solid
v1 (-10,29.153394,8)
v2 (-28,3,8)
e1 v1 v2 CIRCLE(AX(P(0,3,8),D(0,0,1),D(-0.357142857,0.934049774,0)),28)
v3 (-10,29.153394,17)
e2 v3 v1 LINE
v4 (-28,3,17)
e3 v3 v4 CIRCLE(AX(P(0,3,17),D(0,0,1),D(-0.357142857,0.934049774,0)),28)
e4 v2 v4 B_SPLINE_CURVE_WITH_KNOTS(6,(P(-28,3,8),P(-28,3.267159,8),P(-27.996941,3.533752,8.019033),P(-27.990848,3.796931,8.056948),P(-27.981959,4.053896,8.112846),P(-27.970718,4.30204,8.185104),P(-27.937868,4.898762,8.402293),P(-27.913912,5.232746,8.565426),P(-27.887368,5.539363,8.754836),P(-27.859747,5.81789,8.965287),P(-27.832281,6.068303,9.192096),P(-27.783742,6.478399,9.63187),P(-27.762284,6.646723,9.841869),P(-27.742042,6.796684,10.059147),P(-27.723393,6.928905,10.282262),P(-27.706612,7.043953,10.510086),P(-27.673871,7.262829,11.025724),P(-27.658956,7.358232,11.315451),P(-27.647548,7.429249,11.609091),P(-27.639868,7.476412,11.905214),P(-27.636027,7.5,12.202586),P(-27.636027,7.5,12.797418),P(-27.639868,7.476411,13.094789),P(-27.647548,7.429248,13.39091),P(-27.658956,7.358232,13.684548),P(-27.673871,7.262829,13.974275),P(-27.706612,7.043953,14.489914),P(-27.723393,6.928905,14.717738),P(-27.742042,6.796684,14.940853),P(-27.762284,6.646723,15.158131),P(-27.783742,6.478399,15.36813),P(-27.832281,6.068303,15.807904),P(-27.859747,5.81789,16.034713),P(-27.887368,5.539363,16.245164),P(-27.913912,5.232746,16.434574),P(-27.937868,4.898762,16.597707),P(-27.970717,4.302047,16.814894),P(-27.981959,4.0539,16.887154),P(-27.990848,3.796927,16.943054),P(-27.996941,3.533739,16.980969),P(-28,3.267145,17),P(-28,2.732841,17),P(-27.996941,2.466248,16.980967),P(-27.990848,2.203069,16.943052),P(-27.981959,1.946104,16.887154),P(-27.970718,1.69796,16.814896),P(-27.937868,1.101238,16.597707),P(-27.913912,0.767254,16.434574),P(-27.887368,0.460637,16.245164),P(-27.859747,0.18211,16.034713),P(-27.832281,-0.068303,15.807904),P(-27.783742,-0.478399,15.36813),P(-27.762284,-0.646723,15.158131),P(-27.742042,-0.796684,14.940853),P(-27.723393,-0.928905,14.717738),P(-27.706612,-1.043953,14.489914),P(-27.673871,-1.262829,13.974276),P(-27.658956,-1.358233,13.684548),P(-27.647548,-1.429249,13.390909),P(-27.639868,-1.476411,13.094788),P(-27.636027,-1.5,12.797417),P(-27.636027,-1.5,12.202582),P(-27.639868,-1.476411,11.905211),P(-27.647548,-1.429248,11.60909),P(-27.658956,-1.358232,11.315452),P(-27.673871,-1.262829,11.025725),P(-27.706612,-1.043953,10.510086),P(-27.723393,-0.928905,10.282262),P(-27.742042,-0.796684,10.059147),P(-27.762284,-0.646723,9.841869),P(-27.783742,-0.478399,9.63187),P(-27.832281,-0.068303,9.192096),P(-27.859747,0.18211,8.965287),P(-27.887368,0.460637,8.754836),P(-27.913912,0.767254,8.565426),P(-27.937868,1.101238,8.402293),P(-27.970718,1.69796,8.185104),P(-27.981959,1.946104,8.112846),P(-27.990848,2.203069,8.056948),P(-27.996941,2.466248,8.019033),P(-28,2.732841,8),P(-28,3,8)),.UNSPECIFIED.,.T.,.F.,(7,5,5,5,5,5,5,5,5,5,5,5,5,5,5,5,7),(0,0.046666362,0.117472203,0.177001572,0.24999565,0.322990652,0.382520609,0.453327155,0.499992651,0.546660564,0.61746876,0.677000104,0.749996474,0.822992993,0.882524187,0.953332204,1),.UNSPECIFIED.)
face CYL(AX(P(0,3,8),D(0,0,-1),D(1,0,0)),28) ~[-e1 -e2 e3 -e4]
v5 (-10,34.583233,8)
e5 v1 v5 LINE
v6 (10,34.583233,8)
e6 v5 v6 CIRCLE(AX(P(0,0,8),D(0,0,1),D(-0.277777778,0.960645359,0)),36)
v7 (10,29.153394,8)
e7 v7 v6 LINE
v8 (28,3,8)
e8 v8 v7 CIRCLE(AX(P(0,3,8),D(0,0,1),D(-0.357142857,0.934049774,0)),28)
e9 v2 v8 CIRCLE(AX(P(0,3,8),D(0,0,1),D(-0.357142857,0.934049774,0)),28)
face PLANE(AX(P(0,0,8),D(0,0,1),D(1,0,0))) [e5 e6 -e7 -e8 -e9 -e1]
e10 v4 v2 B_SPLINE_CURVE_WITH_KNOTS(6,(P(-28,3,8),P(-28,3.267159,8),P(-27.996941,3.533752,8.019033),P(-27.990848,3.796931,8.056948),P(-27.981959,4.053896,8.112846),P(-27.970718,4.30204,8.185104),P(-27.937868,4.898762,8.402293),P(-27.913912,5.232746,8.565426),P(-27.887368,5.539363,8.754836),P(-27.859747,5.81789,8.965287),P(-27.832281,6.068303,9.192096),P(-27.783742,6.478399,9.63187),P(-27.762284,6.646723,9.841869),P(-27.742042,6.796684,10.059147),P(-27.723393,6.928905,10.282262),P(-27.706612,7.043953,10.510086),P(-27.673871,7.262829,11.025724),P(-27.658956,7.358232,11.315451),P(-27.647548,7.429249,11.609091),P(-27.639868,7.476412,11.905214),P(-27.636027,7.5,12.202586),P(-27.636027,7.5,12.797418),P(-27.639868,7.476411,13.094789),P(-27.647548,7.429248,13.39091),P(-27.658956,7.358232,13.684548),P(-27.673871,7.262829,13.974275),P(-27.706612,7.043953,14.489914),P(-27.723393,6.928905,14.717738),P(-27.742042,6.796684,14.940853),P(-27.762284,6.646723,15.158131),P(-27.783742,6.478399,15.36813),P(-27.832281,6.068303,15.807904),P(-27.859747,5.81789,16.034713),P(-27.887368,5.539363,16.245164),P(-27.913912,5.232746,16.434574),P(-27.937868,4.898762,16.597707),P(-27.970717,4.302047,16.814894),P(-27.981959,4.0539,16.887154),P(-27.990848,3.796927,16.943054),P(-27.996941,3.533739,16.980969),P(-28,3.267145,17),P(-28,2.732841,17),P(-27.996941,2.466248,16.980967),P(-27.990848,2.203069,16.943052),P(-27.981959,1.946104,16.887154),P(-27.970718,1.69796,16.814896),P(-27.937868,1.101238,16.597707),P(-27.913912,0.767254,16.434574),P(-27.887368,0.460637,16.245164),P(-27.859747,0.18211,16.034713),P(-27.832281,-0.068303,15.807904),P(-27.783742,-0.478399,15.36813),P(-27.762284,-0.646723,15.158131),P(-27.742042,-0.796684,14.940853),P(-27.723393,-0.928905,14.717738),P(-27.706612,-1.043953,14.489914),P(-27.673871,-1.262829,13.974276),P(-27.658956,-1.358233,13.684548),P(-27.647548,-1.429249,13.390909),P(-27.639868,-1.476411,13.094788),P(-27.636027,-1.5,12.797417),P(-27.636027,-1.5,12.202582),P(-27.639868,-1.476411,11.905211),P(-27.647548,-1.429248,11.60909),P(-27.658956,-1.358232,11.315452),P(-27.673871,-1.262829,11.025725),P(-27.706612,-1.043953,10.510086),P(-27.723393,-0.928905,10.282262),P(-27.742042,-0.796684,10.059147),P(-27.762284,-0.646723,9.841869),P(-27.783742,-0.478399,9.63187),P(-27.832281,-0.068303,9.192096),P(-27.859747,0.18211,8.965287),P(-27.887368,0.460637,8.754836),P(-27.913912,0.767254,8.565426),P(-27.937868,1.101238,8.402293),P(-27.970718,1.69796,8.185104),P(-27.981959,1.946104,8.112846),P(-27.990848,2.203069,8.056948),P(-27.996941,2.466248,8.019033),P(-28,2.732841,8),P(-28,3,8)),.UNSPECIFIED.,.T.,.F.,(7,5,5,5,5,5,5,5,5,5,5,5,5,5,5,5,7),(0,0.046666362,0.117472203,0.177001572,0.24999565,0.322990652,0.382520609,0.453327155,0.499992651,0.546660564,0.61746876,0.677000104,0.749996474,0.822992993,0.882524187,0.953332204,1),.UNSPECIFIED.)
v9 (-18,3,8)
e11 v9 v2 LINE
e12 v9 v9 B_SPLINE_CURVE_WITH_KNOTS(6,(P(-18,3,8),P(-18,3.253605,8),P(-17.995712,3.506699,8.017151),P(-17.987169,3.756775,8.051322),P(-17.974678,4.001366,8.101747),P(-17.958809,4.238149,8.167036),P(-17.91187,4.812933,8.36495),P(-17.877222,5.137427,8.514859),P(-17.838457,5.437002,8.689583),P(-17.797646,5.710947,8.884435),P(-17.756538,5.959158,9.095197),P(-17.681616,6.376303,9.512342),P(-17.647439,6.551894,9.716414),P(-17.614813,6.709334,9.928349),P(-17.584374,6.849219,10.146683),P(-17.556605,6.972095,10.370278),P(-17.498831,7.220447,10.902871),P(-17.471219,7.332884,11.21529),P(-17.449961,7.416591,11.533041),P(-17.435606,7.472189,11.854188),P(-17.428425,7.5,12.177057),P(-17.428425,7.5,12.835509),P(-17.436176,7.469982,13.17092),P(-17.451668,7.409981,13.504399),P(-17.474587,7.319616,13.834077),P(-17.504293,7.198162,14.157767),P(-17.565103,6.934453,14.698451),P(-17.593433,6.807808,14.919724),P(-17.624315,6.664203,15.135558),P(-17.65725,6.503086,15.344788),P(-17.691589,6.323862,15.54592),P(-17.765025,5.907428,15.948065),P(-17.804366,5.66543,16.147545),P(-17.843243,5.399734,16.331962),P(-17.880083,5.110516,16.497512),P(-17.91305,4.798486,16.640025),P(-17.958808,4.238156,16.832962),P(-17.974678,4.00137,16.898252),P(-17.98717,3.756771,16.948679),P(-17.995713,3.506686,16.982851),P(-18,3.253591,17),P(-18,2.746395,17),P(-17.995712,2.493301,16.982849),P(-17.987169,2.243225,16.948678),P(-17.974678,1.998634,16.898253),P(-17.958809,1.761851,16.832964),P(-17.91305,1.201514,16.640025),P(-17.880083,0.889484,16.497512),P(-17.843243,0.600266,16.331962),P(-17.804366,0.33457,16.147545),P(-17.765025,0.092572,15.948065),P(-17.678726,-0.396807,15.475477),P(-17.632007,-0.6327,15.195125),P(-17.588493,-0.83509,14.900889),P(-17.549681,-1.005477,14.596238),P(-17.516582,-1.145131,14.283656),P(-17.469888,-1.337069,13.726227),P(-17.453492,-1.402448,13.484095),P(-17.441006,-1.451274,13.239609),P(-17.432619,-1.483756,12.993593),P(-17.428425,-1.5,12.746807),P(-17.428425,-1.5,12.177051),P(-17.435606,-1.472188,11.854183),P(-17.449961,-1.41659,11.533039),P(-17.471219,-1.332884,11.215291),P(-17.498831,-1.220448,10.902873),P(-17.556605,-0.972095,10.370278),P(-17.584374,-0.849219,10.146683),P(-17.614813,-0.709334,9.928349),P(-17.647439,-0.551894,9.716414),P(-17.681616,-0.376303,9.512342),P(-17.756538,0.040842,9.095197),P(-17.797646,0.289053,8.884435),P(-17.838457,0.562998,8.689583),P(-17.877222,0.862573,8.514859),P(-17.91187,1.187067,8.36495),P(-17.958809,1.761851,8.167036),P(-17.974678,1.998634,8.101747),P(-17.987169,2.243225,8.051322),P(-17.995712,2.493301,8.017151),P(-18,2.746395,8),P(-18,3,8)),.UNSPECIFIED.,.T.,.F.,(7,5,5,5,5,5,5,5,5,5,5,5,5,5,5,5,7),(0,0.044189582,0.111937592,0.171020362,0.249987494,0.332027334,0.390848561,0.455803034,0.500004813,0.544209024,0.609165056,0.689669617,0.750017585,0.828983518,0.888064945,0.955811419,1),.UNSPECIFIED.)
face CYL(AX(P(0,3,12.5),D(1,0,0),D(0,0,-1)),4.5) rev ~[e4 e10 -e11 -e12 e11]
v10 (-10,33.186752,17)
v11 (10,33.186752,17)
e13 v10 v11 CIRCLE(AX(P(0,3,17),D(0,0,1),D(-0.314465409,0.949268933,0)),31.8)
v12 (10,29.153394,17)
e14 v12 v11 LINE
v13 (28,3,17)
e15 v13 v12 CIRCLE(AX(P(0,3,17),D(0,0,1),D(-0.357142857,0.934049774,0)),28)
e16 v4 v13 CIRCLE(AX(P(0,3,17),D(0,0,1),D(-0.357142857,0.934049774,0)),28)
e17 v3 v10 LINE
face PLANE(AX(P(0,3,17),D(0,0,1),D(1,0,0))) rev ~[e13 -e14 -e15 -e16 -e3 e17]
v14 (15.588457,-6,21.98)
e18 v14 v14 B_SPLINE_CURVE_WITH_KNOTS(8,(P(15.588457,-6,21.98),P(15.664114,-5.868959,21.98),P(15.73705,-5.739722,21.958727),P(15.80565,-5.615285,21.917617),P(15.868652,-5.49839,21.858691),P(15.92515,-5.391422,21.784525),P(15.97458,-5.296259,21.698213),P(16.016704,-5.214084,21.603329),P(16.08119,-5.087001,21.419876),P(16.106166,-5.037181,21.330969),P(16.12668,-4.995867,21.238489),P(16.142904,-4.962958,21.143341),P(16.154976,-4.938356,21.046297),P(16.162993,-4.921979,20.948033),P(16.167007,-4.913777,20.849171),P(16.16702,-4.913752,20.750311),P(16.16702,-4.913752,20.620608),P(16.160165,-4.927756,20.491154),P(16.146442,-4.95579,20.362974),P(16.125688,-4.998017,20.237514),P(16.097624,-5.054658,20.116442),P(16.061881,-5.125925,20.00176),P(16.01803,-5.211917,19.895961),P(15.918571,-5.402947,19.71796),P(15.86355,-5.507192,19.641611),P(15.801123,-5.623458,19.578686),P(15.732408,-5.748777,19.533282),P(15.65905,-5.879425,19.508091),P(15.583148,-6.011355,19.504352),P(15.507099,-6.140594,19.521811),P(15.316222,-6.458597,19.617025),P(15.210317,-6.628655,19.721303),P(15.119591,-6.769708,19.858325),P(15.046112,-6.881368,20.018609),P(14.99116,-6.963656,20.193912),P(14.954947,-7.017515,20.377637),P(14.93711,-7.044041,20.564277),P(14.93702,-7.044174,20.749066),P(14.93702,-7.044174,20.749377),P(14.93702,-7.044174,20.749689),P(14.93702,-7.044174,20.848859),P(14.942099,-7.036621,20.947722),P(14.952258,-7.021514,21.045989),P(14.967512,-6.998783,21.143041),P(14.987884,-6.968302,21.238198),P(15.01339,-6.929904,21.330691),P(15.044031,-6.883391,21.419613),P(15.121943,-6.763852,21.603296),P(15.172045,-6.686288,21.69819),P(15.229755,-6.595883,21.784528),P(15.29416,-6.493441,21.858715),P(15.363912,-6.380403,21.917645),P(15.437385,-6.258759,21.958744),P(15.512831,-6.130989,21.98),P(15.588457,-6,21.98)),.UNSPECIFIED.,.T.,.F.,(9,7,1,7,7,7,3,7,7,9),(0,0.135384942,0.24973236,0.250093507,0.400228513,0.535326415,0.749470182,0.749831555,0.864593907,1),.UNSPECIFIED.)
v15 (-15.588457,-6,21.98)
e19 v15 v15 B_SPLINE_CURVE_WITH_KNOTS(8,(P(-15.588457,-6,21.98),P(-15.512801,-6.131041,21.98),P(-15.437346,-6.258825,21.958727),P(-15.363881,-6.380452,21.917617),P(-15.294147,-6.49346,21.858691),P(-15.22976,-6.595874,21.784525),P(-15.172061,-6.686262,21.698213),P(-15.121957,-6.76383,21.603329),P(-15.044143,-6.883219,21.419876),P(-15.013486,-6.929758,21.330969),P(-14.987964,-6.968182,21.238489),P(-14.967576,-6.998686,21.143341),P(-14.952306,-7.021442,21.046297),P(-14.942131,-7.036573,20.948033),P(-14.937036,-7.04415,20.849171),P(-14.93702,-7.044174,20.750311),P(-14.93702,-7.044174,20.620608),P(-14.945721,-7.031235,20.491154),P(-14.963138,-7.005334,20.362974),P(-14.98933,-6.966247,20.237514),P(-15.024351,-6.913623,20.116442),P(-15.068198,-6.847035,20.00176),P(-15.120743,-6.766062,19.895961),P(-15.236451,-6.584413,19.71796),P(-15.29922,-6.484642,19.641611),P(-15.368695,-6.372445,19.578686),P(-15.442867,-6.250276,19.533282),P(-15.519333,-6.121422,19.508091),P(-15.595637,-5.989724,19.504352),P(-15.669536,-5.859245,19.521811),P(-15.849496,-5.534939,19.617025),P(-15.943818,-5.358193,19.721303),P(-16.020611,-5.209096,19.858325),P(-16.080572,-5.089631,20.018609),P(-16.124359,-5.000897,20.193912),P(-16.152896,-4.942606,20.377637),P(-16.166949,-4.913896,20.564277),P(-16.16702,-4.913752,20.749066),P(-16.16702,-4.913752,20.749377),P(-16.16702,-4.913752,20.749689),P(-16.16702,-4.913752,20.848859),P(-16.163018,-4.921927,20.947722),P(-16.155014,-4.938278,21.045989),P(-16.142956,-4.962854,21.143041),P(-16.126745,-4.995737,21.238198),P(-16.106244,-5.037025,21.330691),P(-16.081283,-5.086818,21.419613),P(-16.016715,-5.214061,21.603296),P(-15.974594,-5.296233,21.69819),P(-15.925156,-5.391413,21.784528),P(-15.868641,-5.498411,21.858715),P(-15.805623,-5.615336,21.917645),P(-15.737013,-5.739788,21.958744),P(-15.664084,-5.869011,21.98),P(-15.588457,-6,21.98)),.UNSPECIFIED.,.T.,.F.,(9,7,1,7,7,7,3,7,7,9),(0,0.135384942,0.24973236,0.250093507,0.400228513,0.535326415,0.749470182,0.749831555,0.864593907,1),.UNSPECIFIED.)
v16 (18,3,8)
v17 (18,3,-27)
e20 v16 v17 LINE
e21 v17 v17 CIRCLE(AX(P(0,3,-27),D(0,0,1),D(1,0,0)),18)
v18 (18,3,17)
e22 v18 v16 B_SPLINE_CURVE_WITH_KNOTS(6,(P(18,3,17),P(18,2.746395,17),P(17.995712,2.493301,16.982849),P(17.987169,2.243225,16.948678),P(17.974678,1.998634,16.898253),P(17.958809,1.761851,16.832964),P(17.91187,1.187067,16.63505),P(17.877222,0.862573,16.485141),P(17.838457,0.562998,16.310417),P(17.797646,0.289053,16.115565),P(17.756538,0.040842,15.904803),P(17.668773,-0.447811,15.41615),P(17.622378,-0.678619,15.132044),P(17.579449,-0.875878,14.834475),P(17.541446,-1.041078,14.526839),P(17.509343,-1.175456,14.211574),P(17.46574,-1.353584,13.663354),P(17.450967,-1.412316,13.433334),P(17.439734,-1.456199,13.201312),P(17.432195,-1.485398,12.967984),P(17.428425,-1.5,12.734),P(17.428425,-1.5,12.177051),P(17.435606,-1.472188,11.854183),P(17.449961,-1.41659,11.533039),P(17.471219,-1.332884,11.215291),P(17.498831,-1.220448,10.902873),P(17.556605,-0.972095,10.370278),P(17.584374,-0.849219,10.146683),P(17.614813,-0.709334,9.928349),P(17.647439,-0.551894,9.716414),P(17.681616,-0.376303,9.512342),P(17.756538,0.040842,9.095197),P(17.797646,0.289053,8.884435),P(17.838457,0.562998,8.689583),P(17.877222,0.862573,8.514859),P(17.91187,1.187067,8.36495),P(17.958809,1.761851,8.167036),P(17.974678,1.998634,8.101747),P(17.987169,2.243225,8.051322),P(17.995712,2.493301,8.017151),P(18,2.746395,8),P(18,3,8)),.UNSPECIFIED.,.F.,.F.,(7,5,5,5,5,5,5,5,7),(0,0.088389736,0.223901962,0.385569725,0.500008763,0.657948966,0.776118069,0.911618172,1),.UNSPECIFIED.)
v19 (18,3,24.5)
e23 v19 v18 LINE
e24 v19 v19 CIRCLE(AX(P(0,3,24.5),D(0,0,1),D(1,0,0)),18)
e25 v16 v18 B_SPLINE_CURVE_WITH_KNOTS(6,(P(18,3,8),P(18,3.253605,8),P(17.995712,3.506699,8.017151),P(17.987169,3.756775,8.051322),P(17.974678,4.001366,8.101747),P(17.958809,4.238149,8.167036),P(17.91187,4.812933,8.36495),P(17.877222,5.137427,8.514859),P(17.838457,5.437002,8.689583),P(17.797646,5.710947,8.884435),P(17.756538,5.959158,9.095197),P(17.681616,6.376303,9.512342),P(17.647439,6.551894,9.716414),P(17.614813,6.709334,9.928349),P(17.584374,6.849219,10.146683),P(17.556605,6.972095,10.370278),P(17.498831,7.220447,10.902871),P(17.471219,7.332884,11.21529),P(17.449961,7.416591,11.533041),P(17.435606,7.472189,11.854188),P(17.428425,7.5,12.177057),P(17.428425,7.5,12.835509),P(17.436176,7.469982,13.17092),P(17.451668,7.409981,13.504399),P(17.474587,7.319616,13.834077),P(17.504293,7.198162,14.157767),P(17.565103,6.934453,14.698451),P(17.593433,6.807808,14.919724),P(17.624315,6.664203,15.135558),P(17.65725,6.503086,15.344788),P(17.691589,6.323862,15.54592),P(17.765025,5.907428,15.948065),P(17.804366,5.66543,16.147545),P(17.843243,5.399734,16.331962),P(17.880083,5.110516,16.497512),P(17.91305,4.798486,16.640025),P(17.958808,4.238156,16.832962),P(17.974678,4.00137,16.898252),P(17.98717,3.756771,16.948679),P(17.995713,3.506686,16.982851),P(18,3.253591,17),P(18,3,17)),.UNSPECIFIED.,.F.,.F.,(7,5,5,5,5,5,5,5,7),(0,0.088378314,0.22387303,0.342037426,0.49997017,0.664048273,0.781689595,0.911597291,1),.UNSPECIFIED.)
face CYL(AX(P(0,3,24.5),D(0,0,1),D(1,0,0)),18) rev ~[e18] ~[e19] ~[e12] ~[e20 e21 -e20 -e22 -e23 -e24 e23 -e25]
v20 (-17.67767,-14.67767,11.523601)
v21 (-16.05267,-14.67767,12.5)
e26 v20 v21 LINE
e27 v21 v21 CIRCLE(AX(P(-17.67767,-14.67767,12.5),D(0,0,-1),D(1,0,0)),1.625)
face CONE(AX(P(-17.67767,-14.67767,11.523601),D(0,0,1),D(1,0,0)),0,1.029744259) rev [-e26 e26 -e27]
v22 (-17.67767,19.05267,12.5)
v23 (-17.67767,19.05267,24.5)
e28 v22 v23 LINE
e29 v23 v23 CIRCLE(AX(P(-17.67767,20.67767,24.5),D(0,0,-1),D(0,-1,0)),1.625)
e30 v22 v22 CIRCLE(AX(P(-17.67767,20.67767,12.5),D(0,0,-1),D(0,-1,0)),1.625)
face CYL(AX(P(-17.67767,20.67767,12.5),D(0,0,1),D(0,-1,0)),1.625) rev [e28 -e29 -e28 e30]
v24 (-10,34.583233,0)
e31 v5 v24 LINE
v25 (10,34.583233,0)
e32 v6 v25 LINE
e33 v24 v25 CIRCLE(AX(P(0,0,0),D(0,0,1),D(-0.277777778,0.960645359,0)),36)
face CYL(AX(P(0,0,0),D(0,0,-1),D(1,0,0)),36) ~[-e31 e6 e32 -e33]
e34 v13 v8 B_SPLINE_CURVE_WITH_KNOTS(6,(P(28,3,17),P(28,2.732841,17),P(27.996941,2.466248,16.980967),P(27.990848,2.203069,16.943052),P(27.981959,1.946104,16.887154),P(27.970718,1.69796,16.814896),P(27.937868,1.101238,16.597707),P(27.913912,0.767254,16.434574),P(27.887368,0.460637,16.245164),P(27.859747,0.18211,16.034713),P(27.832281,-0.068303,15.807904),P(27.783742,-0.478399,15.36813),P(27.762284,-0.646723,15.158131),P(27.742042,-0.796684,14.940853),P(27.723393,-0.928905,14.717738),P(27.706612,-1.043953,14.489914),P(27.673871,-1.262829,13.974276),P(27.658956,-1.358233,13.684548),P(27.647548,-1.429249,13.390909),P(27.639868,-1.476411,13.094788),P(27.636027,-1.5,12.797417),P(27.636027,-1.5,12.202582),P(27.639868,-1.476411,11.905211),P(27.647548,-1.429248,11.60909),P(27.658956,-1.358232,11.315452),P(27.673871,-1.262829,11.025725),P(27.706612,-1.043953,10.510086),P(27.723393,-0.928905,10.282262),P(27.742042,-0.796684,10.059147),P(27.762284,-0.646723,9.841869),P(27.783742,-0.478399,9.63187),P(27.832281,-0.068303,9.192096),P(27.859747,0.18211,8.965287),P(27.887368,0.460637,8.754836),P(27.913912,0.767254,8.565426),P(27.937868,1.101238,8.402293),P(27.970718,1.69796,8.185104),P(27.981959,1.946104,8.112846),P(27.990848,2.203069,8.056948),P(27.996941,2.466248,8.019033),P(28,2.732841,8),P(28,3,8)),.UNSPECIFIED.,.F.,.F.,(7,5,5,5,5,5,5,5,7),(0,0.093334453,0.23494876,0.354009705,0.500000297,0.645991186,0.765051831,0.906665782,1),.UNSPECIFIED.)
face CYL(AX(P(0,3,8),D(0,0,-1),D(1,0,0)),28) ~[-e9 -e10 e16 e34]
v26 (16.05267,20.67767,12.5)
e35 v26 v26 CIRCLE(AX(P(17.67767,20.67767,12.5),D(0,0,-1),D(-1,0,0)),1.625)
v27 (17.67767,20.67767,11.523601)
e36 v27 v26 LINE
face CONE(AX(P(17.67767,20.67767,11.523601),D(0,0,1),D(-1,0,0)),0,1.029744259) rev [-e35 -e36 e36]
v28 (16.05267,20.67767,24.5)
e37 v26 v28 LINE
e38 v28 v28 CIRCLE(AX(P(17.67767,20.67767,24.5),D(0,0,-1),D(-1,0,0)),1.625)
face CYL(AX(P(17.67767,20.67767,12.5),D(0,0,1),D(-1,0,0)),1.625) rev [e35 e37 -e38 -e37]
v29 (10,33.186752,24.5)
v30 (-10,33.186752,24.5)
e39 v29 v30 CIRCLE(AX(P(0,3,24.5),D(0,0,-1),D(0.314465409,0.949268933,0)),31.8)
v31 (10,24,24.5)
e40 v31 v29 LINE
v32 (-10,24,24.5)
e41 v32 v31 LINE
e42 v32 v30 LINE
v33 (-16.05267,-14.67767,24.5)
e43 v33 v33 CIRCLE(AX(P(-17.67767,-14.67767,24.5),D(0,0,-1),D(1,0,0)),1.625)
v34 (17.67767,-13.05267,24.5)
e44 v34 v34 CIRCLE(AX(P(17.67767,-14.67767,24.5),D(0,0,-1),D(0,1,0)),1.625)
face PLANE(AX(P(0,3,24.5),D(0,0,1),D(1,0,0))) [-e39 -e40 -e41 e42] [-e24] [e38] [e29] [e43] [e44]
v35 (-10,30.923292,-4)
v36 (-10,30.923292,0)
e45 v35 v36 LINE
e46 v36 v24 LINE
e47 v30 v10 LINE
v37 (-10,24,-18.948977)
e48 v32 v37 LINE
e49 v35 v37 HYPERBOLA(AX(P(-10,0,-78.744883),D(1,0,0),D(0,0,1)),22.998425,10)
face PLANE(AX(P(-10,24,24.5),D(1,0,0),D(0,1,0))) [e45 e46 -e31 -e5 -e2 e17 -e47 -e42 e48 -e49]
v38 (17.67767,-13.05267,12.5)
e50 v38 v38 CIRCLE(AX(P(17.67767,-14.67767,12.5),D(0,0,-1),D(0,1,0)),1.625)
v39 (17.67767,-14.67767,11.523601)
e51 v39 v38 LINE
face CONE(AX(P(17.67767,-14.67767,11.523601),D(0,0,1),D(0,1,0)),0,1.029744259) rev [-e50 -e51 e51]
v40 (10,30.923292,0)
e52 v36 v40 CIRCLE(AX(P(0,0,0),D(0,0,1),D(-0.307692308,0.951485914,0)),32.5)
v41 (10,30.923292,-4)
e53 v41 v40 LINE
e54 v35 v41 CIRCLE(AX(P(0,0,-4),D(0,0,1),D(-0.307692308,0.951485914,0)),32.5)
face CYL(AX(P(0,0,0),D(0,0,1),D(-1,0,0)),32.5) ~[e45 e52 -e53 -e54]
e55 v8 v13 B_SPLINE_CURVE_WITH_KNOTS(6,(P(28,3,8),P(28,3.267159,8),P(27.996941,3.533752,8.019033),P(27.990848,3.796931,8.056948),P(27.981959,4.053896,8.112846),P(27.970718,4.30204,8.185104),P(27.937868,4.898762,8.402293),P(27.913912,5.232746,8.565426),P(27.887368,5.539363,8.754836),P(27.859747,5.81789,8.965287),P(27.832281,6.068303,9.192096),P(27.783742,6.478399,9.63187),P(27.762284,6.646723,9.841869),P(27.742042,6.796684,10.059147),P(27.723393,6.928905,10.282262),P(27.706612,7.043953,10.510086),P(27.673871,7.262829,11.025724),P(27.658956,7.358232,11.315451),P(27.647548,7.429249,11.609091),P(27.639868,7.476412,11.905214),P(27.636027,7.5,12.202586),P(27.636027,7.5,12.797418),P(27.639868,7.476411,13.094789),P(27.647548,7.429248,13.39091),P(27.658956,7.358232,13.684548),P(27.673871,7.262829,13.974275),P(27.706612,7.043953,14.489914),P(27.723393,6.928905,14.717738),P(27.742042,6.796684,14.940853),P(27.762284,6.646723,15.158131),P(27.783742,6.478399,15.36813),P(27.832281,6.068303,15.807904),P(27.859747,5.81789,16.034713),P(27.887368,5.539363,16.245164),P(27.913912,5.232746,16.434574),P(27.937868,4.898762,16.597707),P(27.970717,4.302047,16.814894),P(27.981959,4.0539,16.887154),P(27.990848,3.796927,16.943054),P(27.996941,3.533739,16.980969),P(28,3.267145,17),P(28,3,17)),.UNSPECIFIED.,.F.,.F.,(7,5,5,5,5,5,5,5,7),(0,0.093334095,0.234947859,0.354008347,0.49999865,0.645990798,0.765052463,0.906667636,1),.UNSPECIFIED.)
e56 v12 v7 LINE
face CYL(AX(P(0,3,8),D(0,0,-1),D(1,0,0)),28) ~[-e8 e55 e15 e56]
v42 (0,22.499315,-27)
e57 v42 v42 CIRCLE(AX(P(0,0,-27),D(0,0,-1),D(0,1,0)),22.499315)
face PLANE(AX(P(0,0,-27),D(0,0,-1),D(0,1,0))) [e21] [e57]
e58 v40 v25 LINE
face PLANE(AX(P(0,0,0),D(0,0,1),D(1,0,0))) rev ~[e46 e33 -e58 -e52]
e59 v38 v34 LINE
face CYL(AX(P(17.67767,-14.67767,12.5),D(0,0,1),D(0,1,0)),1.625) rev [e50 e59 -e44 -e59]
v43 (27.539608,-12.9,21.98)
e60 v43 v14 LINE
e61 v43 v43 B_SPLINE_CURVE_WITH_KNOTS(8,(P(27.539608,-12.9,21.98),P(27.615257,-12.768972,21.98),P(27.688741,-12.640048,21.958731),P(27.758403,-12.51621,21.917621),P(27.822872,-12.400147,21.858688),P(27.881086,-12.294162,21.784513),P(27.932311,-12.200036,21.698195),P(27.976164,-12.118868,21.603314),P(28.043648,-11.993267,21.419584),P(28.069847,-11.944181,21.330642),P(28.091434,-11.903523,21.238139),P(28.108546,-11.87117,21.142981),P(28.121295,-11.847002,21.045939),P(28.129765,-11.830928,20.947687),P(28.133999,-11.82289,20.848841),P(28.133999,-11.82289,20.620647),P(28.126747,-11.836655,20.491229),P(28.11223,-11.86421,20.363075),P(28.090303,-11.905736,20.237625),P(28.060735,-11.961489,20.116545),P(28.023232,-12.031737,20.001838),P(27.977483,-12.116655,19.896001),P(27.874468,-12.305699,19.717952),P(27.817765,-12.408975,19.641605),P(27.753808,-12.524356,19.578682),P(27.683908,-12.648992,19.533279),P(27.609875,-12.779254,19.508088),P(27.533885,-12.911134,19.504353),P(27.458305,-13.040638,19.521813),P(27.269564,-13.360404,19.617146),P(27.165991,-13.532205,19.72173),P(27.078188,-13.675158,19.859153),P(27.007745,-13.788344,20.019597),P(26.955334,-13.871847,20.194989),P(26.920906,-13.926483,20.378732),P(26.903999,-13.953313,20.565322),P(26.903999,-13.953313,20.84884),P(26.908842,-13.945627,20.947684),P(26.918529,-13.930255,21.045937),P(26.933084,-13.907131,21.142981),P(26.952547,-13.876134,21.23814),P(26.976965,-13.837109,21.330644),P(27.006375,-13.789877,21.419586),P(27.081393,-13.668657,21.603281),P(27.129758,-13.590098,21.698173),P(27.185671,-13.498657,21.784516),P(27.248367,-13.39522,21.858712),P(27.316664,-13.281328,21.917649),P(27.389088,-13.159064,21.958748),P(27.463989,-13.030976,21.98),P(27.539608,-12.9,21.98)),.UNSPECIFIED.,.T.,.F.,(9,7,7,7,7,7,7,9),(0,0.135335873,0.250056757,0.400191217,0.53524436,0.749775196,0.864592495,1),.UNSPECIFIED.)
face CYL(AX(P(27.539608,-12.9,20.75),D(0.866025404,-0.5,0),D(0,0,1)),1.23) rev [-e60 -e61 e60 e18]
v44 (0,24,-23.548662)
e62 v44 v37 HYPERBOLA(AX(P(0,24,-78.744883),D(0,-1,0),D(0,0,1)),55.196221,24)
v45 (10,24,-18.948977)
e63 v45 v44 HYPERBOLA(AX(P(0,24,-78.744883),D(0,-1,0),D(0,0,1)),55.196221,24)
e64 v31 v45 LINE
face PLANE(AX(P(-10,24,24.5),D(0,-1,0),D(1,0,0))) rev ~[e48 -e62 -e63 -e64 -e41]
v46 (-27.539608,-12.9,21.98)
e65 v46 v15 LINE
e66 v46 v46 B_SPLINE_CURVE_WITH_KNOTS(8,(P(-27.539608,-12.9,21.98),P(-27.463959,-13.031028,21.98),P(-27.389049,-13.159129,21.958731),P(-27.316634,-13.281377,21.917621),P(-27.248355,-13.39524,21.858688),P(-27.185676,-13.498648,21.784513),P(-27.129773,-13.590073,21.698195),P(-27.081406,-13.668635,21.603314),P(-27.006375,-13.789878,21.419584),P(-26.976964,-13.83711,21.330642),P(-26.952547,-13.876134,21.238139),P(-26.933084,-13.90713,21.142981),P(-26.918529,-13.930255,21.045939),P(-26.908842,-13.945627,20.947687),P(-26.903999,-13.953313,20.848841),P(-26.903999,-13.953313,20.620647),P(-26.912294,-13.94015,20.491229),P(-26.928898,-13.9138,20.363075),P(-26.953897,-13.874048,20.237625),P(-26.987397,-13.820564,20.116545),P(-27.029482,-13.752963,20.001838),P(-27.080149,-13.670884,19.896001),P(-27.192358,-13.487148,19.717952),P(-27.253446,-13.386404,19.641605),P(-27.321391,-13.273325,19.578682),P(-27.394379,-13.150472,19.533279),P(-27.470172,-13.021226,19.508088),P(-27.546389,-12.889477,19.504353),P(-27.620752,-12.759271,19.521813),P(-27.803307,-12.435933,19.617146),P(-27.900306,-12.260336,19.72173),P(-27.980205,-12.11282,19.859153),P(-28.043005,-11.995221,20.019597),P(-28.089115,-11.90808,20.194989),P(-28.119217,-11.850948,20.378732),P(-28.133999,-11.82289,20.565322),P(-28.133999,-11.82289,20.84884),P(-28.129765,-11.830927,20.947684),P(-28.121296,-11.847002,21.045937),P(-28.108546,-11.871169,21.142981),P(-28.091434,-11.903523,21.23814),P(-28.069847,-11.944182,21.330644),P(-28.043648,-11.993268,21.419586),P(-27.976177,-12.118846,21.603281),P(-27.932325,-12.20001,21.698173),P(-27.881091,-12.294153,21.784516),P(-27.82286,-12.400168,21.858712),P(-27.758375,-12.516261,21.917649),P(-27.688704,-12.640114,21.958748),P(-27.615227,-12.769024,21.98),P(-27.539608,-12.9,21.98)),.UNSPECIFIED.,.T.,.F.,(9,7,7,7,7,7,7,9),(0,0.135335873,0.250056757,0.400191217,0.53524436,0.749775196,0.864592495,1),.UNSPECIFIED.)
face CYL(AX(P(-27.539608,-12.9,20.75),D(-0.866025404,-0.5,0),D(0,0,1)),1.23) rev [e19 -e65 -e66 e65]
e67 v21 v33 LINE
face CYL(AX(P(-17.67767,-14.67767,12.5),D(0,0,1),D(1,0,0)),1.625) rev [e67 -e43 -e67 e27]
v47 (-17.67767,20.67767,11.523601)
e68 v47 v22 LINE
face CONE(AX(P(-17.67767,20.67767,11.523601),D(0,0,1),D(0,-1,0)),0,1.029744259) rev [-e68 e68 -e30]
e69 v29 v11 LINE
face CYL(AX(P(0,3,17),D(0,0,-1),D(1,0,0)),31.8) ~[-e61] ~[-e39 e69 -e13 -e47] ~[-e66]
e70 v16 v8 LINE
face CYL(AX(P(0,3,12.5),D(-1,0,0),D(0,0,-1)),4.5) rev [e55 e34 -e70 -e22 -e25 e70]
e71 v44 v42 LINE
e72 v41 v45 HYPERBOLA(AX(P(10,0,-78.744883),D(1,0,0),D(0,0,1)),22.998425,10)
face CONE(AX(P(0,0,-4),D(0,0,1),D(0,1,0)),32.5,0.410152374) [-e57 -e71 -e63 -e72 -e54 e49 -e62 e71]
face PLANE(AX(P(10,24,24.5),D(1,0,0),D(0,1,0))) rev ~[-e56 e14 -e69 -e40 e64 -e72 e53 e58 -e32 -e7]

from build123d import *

# Parameters (mm, degrees)
ESQUISSE1_R                  = 36
BASE_EXTRUSION_DEPTH         = 8
ESQUISSE2_R                  = 32.5
BOSS_EXTRU_1_DEPTH           = 4
ESQUISSE4_R                  = 28
BOSS_EXTRU_2_DEPTH           = 9
ESQUISSE5_R                  = 31.8
BOSS_EXTRU_3_DEPTH           = 7.5
ESQUISSE6_R                  = 18
ENL_V_MAT_EXTRU_1_DEPTH      = 52.5
ESQUISSE10_W                 = 20
ESQUISSE10_H                 = 14.61003861
ENL_V_MAT_EXTRU_5_DEPTH      = 52.5
R_P_TITION_CIRCULAIRE1_COUNT = 4
ESQUISSE13_R                 = 4.5
ENL_V_MAT_EXTRU_6_DEPTH      = 37
ENL_V_MAT_EXTRU_6_DEPTH_BACK = 37
ENL_V_START                  = -31.8
ESQUISSE14_R                 = 1.23
ENL_V_MAT_EXTRU_7_DEPTH      = 13.842074
R_P_TITION_CIRCULAIRE2_COUNT = 2
R_P_TITION_CIRCULAIRE2_ANGLE = 120


with BuildPart() as part:
    # Esquisse1 → Base-Extrusion (new body)
    with BuildSketch(Plane.XY):
        Circle(ESQUISSE1_R)
    extrude(amount=BASE_EXTRUSION_DEPTH)

    # Esquisse2 → Boss.-Extru.1 (add)
    with BuildSketch(Plane(origin=(0, 0, 0), x_dir=(-1, 0, 0), z_dir=(0, 0, -1))):
        Circle(ESQUISSE2_R)
    extrude(amount=BOSS_EXTRU_1_DEPTH)

    # Esquisse3 → Boss.-Révol.1 (revolve)
    with BuildSketch(Plane(origin=(0, 0, 0), x_dir=(0, 0, -1), z_dir=(1, 0, 0))):
        Polygon((4, 32.5), (27, 22.499315376), (27, 0), (4, 0), align=None)
    revolve(axis=Axis((0, 0, 0), (0, 0, -1)))

    # Esquisse4 → Boss.-Extru.2 (add)
    with BuildSketch(Plane.XY.offset(8)):
        with Locations((0, 3)):
            Circle(ESQUISSE4_R)
    extrude(amount=BOSS_EXTRU_2_DEPTH)

    # Esquisse5 → Boss.-Extru.3 (add)
    with BuildSketch(Plane.XY.offset(17)):
        with Locations((0, 3)):
            Circle(ESQUISSE5_R)
    extrude(amount=BOSS_EXTRU_3_DEPTH)

    # Esquisse6 → Enlèv. mat.-Extru.1 (cut, through all)
    with BuildSketch(Plane.XY.offset(24.5)):
        with Locations((0, 3)):
            Circle(ESQUISSE6_R)
    extrude(amount=-ENL_V_MAT_EXTRU_1_DEPTH, mode=Mode.SUBTRACT)

    # Esquisse10 → Enlèv. mat.-Extru.5 (cut, through all)
    with BuildSketch(Plane.XY.offset(24.5)):
        with Locations((0, 31.305019305)):
            Rectangle(ESQUISSE10_W, ESQUISSE10_H)
    extrude(amount=-ENL_V_MAT_EXTRU_5_DEPTH, mode=Mode.SUBTRACT)

    # Esquisse11 → Perçage1 (revolve, cut)
    with BuildSketch(Plane(origin=(-17.67766953, 20.67766953, 24.5), x_dir=(0, -1, 0), z_dir=(1, 0, 0))):
        Polygon((0, 0), (0, 12.976398506), (1.625, 12), (1.625, 0), align=None)
    per_age1 = revolve(axis=Axis((-17.67766953, 20.67766953, 28.744199587), (0, 0, -1)), mode=Mode.SUBTRACT)

    # Répétition circulaire1: Perçage1 ×4 about axis
    r_p_tition_circulaire1_axis = Axis((0, 3, 0), (0, 0, 1))
    for i in range(1, R_P_TITION_CIRCULAIRE1_COUNT):
        add(per_age1.rotate(r_p_tition_circulaire1_axis, i * 360 / R_P_TITION_CIRCULAIRE1_COUNT), mode=Mode.SUBTRACT)

    # Esquisse13 → Enlèv. mat.-Extru.6 (cut, two sides)
    with BuildSketch(Plane(origin=(0, 0, 0), x_dir=(0, 0, -1), z_dir=(1, 0, 0))) as enl_v_mat_extru_6_sk:
        with Locations((-12.5, 3)):
            Circle(ESQUISSE13_R)
    extrude(amount=ENL_V_MAT_EXTRU_6_DEPTH, mode=Mode.SUBTRACT)
    extrude(enl_v_mat_extru_6_sk.sketch, amount=-ENL_V_MAT_EXTRU_6_DEPTH_BACK, mode=Mode.SUBTRACT)

    # Esquisse14 → Enlèv. mat.-Extru.7 (cut)
    with BuildSketch(Plane(origin=(-1.299038106, 0.75, 0), x_dir=(0, 0, 1), z_dir=(-0.866025404, 0.5, 0)).offset(ENL_V_START)):
        with Locations((20.75, 2.598076211)):
            Circle(ESQUISSE14_R)
    enl_v_mat_extru_7 = extrude(amount=ENL_V_MAT_EXTRU_7_DEPTH, mode=Mode.SUBTRACT)

    # Répétition circulaire2: Enlèv. mat.-Extru.7 ×2 about axis
    r_p_tition_circulaire2_axis = Axis((0, 3, 0), (0, 0, -1))
    for i in range(1, R_P_TITION_CIRCULAIRE2_COUNT):
        add(enl_v_mat_extru_7.rotate(r_p_tition_circulaire2_axis, i * R_P_TITION_CIRCULAIRE2_ANGLE / (R_P_TITION_CIRCULAIRE2_COUNT - 1)), mode=Mode.SUBTRACT)


solid = part.part
